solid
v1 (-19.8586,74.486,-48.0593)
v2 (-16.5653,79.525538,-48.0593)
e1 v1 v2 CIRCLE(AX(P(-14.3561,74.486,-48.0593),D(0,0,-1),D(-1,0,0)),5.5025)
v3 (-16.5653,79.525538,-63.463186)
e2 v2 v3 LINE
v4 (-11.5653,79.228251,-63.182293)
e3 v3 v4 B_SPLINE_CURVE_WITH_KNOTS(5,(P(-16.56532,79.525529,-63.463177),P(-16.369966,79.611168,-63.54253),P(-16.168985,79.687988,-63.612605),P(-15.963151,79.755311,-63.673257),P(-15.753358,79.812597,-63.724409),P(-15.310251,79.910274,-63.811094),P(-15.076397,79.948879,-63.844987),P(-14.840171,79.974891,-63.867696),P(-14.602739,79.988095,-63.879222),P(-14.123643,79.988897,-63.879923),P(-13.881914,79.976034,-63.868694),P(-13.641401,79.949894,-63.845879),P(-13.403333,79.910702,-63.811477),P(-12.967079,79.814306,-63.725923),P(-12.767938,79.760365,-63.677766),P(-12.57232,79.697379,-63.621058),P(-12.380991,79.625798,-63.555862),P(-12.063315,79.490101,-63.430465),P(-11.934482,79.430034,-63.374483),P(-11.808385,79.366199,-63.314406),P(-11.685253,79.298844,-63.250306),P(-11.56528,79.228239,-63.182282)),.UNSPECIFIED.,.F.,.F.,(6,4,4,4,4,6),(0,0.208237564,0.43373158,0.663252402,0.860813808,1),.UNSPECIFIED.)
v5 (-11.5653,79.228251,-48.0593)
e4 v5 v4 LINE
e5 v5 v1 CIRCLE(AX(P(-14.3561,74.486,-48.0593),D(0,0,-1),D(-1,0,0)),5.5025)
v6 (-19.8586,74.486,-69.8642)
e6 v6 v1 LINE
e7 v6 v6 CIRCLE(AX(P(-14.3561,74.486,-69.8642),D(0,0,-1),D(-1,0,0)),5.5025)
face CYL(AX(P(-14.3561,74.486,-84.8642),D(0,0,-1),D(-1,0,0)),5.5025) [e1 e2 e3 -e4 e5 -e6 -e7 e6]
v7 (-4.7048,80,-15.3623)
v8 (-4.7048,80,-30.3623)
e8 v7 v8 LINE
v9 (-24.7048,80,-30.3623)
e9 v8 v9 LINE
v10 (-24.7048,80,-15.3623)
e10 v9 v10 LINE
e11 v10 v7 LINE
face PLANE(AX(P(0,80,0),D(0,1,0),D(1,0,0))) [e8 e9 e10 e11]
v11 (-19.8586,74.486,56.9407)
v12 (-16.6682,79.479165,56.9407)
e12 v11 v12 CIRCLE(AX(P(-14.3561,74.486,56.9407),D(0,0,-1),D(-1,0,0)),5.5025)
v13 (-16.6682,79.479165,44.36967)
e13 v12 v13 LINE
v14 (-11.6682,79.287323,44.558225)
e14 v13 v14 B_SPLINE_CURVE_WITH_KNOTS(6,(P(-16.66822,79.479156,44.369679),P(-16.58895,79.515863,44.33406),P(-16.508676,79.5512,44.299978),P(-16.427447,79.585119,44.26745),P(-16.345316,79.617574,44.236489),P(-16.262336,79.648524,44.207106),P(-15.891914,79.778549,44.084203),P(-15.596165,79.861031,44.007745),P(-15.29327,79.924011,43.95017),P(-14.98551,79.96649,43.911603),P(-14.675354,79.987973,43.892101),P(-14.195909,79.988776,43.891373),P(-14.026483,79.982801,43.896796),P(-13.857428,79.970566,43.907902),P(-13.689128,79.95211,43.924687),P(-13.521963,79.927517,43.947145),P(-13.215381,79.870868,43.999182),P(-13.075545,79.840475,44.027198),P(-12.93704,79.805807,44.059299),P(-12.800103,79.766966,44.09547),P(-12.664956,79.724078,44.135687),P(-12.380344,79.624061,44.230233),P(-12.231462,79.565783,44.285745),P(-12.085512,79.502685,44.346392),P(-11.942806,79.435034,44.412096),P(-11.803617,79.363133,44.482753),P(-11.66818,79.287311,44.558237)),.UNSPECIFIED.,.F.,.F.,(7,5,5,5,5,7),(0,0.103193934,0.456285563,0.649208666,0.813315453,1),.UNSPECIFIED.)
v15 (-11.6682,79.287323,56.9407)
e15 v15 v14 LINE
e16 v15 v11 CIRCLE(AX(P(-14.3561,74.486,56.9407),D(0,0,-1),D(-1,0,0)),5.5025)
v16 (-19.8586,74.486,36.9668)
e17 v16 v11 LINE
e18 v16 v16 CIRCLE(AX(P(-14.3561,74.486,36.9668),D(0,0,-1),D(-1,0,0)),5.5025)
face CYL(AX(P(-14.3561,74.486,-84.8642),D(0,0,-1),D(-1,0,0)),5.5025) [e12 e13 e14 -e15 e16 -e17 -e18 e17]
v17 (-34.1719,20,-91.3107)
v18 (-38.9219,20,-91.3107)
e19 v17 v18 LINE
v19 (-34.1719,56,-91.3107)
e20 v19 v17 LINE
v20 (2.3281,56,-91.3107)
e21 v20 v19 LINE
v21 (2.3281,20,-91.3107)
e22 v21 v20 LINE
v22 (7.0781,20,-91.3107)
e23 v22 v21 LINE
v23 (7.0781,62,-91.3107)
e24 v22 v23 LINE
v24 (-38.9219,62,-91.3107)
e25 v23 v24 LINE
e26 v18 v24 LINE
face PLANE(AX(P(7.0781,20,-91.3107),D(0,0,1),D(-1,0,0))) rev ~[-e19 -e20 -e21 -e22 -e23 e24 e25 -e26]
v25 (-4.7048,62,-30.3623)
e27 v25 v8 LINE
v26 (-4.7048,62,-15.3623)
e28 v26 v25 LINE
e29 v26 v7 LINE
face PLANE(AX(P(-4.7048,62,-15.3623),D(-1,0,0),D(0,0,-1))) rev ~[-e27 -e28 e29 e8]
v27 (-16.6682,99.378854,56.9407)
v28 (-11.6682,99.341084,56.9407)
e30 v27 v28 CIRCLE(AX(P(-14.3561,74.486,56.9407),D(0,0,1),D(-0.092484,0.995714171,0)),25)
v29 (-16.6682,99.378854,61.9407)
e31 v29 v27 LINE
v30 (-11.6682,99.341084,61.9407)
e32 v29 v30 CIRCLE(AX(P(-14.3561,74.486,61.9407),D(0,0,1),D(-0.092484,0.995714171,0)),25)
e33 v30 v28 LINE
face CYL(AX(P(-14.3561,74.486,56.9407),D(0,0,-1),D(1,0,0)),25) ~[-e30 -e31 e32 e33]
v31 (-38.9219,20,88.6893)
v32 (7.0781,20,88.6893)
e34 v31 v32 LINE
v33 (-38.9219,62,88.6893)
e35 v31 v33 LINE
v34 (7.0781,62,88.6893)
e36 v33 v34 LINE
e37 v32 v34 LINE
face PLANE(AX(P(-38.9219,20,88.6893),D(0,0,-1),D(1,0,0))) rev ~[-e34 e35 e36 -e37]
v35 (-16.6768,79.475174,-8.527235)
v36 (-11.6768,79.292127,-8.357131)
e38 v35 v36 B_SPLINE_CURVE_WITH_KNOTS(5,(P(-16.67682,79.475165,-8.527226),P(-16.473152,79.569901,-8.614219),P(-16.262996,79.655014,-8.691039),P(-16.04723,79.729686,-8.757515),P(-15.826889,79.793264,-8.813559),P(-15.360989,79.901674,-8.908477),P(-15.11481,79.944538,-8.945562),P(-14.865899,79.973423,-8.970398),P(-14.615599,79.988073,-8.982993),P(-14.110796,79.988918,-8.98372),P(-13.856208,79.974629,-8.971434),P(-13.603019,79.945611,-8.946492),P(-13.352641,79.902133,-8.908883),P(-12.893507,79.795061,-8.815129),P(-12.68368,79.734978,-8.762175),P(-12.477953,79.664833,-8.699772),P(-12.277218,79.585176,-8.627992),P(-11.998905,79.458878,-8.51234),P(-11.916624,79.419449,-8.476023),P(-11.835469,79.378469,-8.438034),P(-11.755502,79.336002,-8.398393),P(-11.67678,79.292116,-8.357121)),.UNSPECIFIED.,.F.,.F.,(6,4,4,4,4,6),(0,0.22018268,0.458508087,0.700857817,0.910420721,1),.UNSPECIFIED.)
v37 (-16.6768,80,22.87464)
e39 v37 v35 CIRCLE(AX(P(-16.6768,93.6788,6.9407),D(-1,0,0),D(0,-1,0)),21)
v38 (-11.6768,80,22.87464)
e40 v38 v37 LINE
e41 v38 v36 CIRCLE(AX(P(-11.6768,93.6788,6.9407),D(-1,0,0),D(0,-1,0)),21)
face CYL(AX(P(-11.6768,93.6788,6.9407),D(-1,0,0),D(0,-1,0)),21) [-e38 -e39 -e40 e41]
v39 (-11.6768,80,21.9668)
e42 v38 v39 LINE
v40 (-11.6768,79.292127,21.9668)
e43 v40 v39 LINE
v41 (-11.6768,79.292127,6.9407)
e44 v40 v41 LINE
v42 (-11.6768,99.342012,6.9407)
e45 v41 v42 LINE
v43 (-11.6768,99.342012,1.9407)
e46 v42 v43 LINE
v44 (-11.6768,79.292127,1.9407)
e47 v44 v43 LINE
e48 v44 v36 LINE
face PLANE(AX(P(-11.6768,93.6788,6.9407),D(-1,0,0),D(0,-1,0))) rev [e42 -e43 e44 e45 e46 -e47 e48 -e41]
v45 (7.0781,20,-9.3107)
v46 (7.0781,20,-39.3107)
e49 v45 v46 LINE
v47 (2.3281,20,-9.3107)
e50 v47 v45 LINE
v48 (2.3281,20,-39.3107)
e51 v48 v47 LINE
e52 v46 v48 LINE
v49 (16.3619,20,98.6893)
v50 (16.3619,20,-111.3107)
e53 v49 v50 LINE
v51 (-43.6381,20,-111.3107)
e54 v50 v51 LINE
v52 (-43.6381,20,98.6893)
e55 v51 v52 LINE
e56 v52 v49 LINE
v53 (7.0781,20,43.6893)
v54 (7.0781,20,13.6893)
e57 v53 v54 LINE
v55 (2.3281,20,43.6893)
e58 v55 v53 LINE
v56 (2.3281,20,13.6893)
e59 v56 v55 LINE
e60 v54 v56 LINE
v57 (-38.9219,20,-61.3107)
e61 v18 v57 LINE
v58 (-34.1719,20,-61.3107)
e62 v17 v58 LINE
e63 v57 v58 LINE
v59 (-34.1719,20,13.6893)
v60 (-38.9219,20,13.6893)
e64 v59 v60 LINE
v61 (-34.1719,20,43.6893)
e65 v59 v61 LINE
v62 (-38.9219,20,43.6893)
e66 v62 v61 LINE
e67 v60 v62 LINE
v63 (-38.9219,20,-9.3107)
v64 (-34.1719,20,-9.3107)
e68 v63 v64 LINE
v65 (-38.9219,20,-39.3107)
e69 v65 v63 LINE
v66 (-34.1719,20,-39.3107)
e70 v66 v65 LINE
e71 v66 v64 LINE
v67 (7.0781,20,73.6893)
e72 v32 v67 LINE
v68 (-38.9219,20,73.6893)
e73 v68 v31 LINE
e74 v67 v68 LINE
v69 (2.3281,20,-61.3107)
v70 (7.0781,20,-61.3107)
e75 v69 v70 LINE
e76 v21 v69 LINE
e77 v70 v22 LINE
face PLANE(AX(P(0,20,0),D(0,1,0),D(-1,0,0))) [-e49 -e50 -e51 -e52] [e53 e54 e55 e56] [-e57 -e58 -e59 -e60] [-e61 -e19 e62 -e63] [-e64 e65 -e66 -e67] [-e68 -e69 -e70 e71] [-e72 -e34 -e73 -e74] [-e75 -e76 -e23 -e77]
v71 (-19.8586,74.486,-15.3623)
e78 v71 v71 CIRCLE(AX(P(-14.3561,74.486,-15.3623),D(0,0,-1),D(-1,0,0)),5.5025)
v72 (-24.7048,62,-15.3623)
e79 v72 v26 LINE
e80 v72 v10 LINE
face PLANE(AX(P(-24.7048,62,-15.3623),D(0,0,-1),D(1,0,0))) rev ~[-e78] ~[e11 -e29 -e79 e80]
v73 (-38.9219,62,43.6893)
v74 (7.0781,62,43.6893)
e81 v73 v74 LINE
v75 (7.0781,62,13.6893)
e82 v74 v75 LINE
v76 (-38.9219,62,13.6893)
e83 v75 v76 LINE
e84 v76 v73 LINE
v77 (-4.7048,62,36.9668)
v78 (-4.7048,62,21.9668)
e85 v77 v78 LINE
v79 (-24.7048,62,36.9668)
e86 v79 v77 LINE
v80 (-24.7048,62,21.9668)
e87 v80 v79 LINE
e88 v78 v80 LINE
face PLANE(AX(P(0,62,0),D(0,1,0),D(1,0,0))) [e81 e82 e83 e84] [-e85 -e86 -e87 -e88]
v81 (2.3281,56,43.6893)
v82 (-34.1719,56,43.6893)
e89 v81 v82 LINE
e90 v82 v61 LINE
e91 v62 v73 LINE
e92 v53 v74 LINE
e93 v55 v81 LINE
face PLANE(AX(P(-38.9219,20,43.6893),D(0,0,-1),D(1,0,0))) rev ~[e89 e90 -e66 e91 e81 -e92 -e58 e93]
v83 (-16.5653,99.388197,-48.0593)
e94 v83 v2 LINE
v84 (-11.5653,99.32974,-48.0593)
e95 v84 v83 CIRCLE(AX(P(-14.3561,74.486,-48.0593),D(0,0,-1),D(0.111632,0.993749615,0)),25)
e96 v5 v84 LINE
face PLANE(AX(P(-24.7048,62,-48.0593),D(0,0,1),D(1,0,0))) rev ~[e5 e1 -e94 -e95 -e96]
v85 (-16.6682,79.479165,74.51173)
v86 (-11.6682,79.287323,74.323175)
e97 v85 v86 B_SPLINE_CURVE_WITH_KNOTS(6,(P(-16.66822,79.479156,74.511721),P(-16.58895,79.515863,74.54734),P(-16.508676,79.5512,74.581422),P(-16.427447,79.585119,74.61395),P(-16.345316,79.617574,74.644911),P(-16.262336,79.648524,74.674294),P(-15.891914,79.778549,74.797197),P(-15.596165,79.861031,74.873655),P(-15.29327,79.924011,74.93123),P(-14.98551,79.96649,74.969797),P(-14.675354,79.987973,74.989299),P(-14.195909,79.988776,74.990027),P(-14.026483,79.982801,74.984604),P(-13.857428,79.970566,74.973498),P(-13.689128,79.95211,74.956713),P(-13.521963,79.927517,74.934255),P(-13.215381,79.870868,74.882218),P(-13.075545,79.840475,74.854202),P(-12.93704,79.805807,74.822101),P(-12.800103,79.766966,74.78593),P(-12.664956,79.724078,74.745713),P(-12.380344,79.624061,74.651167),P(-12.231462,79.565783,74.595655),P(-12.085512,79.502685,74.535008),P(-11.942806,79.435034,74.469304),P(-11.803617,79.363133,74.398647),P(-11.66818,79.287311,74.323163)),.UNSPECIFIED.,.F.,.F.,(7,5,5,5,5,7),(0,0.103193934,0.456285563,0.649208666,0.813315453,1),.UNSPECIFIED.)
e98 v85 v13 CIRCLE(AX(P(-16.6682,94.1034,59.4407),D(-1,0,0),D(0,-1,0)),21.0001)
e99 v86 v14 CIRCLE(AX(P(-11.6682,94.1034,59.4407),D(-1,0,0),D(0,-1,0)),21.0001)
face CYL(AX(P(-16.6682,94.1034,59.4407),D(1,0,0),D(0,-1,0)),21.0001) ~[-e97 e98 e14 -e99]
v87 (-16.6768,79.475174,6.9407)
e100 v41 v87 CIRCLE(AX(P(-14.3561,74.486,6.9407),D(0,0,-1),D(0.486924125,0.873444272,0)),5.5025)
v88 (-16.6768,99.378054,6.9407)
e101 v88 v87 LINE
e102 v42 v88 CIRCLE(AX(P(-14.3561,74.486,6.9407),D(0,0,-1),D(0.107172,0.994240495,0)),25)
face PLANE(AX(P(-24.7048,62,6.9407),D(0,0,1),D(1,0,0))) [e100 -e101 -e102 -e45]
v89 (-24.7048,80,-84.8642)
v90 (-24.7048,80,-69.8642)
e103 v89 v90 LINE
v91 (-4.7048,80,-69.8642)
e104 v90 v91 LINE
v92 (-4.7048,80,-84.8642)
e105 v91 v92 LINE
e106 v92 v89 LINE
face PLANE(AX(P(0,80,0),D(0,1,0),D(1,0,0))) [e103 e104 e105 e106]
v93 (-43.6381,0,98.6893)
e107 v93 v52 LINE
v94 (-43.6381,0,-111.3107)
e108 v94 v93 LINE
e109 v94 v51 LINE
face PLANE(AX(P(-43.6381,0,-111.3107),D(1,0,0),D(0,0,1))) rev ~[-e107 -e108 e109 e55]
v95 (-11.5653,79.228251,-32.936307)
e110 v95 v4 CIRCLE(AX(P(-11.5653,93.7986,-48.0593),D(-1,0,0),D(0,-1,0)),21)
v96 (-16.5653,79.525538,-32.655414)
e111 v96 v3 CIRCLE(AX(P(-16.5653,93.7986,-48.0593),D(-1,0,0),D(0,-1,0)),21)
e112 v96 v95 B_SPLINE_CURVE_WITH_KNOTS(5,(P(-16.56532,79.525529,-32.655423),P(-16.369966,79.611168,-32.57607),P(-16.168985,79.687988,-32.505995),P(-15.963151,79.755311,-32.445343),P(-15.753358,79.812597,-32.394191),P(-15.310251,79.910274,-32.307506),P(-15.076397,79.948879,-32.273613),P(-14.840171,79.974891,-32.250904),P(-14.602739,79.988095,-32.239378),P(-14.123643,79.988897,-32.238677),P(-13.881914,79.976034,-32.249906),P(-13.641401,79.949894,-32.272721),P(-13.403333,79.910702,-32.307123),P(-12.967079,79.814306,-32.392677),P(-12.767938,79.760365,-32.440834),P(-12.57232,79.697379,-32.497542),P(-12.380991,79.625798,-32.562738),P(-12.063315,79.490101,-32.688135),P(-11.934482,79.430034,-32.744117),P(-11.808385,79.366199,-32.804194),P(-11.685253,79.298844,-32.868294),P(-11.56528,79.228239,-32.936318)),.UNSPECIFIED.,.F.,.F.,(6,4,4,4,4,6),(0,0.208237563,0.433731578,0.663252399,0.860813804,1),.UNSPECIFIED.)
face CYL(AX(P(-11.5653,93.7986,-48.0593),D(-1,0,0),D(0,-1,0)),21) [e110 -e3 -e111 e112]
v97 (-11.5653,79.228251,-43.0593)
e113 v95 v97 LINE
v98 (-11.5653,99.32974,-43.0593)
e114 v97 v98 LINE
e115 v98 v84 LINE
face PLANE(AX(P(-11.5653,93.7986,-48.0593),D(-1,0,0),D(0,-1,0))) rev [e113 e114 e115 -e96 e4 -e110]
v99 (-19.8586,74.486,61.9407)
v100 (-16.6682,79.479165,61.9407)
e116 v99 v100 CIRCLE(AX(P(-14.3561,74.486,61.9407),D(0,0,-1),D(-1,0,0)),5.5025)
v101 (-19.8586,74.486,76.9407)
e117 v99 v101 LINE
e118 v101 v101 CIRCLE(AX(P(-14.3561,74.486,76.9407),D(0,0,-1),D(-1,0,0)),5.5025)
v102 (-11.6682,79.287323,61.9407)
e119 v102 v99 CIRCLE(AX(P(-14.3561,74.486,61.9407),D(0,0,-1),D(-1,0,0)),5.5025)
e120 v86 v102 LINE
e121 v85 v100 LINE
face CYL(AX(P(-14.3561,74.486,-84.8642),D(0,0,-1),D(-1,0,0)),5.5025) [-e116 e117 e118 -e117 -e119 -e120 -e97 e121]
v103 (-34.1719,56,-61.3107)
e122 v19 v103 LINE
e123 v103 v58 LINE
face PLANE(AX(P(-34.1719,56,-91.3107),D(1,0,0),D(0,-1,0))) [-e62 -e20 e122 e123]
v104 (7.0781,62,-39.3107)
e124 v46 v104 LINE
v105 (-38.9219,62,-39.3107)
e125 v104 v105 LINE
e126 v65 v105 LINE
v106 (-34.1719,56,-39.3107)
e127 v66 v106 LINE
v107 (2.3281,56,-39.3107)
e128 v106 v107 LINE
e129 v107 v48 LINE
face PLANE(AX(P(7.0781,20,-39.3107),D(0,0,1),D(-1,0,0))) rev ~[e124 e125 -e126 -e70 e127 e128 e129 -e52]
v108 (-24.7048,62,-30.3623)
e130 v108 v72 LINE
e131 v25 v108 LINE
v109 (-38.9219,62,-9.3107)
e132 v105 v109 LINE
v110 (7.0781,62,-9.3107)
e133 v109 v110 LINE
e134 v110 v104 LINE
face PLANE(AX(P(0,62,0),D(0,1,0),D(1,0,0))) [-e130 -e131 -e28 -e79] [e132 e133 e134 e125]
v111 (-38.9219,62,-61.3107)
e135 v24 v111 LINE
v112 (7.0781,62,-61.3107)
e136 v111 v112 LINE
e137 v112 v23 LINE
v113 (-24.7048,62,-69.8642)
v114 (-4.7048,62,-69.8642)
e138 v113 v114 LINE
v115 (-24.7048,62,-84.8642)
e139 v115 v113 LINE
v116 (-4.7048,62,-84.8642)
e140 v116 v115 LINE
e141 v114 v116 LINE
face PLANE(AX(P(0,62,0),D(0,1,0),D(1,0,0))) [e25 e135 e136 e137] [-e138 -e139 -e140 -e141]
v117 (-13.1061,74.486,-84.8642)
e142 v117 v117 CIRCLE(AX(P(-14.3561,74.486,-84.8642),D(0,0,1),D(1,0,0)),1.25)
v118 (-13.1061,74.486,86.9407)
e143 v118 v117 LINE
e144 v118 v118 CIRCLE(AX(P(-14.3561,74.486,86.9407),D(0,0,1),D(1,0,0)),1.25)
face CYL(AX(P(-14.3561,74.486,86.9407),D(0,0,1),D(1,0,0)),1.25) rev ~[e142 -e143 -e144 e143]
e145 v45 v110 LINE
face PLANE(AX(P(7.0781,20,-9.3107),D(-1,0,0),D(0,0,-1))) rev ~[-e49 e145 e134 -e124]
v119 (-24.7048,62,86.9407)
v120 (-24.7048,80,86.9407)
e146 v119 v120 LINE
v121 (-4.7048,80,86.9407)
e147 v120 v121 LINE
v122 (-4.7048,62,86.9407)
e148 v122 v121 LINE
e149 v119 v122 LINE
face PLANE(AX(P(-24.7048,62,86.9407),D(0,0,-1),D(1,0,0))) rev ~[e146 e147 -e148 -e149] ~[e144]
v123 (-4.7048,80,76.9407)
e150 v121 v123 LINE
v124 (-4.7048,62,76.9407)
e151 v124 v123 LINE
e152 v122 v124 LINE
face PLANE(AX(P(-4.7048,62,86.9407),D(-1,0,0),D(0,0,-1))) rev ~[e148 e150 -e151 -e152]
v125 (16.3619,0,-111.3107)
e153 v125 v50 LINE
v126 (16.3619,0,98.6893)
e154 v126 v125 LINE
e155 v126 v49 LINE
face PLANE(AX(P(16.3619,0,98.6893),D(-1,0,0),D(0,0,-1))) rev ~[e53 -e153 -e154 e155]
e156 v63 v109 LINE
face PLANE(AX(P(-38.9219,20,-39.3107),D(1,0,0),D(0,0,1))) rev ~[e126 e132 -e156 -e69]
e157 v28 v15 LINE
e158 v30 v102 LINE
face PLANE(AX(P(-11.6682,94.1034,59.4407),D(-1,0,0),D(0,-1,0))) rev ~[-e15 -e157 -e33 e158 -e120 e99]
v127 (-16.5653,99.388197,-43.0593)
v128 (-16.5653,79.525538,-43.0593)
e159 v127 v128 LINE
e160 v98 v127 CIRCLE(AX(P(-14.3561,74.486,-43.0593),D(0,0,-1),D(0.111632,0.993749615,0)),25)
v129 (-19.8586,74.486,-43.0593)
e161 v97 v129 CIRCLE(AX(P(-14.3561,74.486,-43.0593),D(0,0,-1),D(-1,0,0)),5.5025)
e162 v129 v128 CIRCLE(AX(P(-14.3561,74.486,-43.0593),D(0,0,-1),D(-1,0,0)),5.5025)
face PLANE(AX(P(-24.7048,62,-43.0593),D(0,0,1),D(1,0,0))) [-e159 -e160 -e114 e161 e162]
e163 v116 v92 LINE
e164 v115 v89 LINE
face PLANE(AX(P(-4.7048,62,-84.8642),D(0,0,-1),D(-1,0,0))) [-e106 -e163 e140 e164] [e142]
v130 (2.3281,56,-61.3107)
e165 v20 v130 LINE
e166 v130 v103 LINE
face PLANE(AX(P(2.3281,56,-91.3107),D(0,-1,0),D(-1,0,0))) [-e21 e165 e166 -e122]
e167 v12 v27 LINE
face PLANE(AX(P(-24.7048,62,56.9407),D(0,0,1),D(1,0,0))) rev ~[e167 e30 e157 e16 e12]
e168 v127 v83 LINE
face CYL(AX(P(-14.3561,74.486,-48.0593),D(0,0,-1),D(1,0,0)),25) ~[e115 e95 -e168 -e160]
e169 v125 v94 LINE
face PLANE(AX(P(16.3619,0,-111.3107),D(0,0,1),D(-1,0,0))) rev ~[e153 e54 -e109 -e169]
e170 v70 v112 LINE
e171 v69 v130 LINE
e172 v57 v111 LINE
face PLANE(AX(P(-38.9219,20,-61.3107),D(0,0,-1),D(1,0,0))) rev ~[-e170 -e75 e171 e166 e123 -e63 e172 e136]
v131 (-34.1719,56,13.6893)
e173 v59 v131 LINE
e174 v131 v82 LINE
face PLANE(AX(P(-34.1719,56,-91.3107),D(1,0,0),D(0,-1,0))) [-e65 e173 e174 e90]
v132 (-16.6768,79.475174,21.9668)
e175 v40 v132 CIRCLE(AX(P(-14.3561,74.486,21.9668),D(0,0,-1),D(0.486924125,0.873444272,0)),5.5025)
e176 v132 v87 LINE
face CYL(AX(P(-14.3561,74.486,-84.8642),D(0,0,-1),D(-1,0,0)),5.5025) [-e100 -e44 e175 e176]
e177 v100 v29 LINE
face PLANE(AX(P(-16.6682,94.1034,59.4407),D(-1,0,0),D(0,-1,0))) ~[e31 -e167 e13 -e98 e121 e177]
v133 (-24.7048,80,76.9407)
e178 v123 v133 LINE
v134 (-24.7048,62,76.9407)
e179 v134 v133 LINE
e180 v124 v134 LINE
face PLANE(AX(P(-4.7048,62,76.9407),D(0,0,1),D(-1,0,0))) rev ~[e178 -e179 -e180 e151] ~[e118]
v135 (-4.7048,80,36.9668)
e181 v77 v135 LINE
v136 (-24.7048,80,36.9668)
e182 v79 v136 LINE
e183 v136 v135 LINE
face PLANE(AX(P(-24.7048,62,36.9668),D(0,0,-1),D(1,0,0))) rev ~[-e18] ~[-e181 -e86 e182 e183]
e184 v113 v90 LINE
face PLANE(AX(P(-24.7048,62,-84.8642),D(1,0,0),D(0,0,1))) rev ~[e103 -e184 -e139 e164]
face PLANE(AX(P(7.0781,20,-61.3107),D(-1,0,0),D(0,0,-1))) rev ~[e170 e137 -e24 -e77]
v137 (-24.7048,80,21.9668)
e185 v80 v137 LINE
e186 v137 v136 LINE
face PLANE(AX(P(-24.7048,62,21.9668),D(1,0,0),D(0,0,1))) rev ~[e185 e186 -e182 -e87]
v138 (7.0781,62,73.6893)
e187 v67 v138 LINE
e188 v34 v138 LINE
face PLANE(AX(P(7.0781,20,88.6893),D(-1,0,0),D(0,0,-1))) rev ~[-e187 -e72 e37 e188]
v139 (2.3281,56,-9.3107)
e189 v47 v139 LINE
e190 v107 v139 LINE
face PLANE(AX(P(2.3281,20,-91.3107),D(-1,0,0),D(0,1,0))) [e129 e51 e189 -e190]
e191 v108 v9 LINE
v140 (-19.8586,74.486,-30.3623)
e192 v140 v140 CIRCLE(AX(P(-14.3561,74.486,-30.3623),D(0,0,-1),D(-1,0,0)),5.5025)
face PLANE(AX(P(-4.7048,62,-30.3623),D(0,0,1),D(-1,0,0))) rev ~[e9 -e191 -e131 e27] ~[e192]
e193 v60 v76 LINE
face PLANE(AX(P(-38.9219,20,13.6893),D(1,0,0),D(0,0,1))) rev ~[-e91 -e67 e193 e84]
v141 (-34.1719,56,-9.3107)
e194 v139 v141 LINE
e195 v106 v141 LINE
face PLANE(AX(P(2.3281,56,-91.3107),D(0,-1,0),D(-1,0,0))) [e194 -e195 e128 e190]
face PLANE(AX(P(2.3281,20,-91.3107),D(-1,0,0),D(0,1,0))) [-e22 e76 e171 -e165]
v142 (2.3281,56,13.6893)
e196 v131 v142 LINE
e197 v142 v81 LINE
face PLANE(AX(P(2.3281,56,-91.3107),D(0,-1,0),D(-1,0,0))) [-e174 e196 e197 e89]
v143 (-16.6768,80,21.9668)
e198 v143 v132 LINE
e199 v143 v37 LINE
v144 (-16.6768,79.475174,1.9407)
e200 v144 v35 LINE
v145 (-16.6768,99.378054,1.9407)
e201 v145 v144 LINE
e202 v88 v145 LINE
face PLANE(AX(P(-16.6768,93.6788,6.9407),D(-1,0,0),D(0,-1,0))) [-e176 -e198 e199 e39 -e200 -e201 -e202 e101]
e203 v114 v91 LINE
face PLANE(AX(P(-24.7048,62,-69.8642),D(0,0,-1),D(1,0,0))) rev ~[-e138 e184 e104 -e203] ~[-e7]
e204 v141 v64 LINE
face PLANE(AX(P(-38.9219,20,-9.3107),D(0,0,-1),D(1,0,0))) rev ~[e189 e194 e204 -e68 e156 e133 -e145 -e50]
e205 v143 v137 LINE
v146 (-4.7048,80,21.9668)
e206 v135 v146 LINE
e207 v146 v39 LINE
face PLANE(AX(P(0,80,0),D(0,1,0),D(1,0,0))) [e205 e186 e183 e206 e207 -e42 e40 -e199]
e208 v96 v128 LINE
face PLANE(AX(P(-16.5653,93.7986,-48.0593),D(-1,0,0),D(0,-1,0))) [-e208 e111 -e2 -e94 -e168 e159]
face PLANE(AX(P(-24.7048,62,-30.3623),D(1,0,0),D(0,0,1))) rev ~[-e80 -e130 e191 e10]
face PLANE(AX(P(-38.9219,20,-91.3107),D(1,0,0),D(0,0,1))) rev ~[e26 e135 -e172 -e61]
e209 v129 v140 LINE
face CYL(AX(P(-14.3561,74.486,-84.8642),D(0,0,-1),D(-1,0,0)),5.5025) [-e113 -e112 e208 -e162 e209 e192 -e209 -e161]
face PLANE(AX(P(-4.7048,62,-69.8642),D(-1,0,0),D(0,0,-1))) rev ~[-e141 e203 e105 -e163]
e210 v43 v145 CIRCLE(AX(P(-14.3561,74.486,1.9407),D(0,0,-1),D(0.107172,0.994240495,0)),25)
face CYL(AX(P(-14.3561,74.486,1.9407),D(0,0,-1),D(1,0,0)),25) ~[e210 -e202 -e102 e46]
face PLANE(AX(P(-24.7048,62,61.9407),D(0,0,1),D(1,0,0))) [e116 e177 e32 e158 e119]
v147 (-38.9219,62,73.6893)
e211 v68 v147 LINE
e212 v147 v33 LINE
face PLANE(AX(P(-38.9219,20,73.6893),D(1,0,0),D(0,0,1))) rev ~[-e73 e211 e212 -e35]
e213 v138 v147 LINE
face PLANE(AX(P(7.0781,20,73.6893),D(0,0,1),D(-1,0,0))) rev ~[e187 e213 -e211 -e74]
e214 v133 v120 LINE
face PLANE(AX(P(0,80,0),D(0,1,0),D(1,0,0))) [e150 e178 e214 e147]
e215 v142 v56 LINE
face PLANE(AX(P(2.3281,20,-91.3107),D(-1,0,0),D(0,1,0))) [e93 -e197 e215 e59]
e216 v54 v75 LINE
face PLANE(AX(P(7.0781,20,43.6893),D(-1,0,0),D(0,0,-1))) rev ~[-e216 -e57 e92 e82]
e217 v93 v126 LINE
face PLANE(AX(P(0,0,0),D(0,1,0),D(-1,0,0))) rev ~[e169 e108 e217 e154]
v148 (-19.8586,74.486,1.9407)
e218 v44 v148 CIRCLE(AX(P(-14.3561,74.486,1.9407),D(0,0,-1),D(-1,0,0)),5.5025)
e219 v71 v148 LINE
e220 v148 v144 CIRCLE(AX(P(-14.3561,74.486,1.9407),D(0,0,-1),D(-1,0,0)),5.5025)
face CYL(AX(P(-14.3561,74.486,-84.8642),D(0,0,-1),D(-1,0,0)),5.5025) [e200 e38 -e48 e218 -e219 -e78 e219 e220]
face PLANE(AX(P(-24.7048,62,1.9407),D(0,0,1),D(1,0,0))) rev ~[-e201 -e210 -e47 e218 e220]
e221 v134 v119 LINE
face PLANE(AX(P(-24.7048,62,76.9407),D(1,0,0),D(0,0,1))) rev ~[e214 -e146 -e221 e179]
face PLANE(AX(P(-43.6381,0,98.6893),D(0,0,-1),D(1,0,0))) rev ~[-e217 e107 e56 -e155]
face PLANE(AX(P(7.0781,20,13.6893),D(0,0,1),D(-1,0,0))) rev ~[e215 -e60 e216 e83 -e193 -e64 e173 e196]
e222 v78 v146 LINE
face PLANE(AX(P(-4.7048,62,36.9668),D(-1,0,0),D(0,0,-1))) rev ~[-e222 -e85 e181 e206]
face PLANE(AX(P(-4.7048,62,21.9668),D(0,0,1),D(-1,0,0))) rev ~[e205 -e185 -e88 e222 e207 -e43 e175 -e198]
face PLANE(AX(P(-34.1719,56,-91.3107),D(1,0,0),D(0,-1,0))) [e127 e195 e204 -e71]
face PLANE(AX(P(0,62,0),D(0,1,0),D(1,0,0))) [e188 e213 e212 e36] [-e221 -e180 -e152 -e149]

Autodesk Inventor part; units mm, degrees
sketch "Boceto1" plane through (0, 0, 0) normal (0, 1, 0) x (-1, 0, 0)
  line L0 (43.6381, 98.6893) -> (-16.3619, 98.6893)
  line L1 (-16.3619, 98.6893) -> (-16.3619, -111.3107)
  line L2 (-16.3619, -111.3107) -> (43.6381, -111.3107)
  line L3 (43.6381, -111.3107) -> (43.6381, 98.6893)
  point P0 (0, 0)
  dimension "d0" = 210
  dimension "d1" = 60
extrude "Extrusión1" add sketch "Boceto1" along normal blind 20
sketch "Boceto2" plane through (0, 20, 0) normal (0, 1, 0) x (1, 0, 0)
  line L0 (-38.9219, -88.6893) -> (7.0781, -88.6893)
  line L1 (7.0781, -88.6893) -> (7.0781, -73.6893)
  line L2 (7.0781, -73.6893) -> (-38.9219, -73.6893)
  line L3 (-38.9219, -73.6893) -> (-38.9219, -88.6893)
  line L4 (-38.9219, -43.6893) -> (7.0781, -43.6893)
  line L5 (7.0781, -43.6893) -> (7.0781, -13.6893)
  line L6 (7.0781, -13.6893) -> (-38.9219, -13.6893)
  line L7 (-38.9219, -13.6893) -> (-38.9219, -43.6893)
  line L8 (-38.9219, 9.3107) -> (7.0781, 9.3107)
  line L9 (7.0781, 9.3107) -> (7.0781, 39.3107)
  line L10 (7.0781, 39.3107) -> (-38.9219, 39.3107)
  line L11 (-38.9219, 39.3107) -> (-38.9219, 9.3107)
  line L12 (-38.9219, 61.3107) -> (7.0781, 61.3107)
  line L13 (7.0781, 61.3107) -> (7.0781, 91.3107)
  line L14 (7.0781, 91.3107) -> (-38.9219, 91.3107)
  line L15 (-38.9219, 91.3107) -> (-38.9219, 61.3107)
  line L16 (-43.6381, -98.6893) -> (16.3619, -98.6893) projected
  line L17 (16.3619, 111.3107) -> (-43.6381, 111.3107) projected
  point P0 (0, 0)
  dimension "d6" = 15
  dimension "d7" = 30
  dimension "d8" = 46
  dimension "d9" = 46
  dimension "d10" = 30
  dimension "d11" = 46
  dimension "d12" = 30
  dimension "d13" = 46
  dimension "d14" = 10
  dimension "d15" = 20
  dimension "d16" = 30
  dimension "d17" = 23
  dimension "d18" = 22
extrude "Extrusión2" add sketch "Boceto2" along normal blind 42
sketch "Boceto3" plane through (0, 62, 0) normal (0, 1, 0) x (1, 0, 0)
  line L0 (-4.7048, -21.9668) -> (-24.7048, -21.9668)
  line L1 (-24.7048, -21.9668) -> (-24.7048, -36.9668)
  line L2 (-24.7048, -36.9668) -> (-4.7048, -36.9668)
  line L3 (-4.7048, -36.9668) -> (-4.7048, -21.9668)
  line L4 (-24.7048, 15.3623) -> (-4.7048, 15.3623)
  line L5 (-4.7048, 15.3623) -> (-4.7048, 30.3623)
  line L6 (-4.7048, 30.3623) -> (-24.7048, 30.3623)
  line L7 (-24.7048, 30.3623) -> (-24.7048, 15.3623)
  line L8 (-24.7048, 69.8642) -> (-4.7048, 69.8642)
  line L9 (-4.7048, 69.8642) -> (-4.7048, 84.8642)
  line L10 (-4.7048, 84.8642) -> (-24.7048, 84.8642)
  line L11 (-24.7048, 84.8642) -> (-24.7048, 69.8642)
  line L12 (-24.7048, -86.9407) -> (-4.7048, -86.9407)
  line L13 (-4.7048, -86.9407) -> (-4.7048, -76.9407)
  line L14 (-4.7048, -76.9407) -> (-24.7048, -76.9407)
  line L15 (-24.7048, -76.9407) -> (-24.7048, -86.9407)
  point P0 (0, 0)
  dimension "d19" = 20
  dimension "d20" = 15
  dimension "d21" = 20
  dimension "d22" = 15
  dimension "d23" = 15
  dimension "d24" = 20
  dimension "d25" = 20
  dimension "d26" = 10
  dimension "d31" = 0
extrude "Extrusión3" add sketch "Boceto3" along normal blind 18
sketch "Sketch16" plane through (7.0781, 20, -91.3107) normal (0, 0, -1) x (-1, 0, 0)
  line L0 (-9.2838, 0) -> (50.7162, 0) projected
  line L1 (4.75, 36) -> (41.25, 36)
  line L2 (41.25, 36) -> (41.25, 0)
  line L3 (41.25, 0) -> (4.75, 0)
  line L4 (4.75, 0) -> (4.75, 36)
  line L5 (0, 42) -> (46, 42) projected
  point P0 (7.0781, -20)
  point P1 (23, 42)
  point P2 (23, 36)
  point P3 (4.75, 0)
  dimension "d57" = 36.5
  dimension "d58" = 36
extrude "Extrusion8" cut sketch "Sketch16" against normal up to surface (135 mm away)
sketch "Boceto4" plane through (-4.7048, 62, -84.8642) normal (0, 0, -1) x (-1, 0, 0)
  circle A0 centre (9.6513, 12.486) radius 5.5025
  point P0 (-4.7048, -62)
extrude "Extrusión4" add sketch "Boceto4" against normal blind 170
ref_plane "Plano de trabajo1" through (-24.7048, 62, 56.9407) normal (0, 0, 1) x (1, 0, 0)
sketch "Boceto6" plane through (-24.7048, 62, 56.9407) normal (0, 0, 1) x (1, 0, 0)
  circle A0 centre (10.3487, 12.486) radius 5.5025 projected
  circle A1 centre (10.3487, 12.486) radius 25
  point P0 (24.7048, -62)
  point P1 (41.0667, -62)
  dimension "d33" = 74.486
  dimension "d34" = 25
extrude "Extrusión5" add sketch "Boceto6" along normal blind 5 contours A0 | A1
ref_plane "Plano de trabajo3" through (-24.7048, 62, 1.9407) normal (0, 0, 1) x (1, 0, 0)
ref_plane "Plano de trabajo4" through (-24.7048, 62, -48.0593) normal (0, 0, 1) x (1, 0, 0)
sketch "Boceto7" plane through (-24.7048, 62, 1.9407) normal (0, 0, 1) x (1, 0, 0)
  circle A0 centre (10.3487, 12.486) radius 25 projected
  circle A1 centre (10.3487, 12.486) radius 20
  point P0 (24.7048, -62)
extrude "Extrusión6" add sketch "Boceto7" along normal blind 5 contours A0 | A1
sketch "Boceto8" plane through (-24.7048, 62, -48.0593) normal (0, 0, 1) x (1, 0, 0)
  circle A0 centre (10.3487, 12.486) radius 25 projected
  circle A1 centre (10.3487, 12.486) radius 20
  point P0 (24.7048, -62)
  dimension "d48" = 50
extrude "Extrusión7" add sketch "Boceto8" along normal blind 5 contours A0 | A1
ref_plane "Plano de trabajo5" through (-14.3562, 74.486, 59.4407) normal (0, 0, -1) x (-1, 0, 0)
sketch "Boceto10" plane through (-14.3562, 74.486, 59.4407) normal (0, 0, -1) x (-1, 0, 0)
  line L0 (-2.688, 19.6173) -> (2.312, 19.6173)
  line L1 (2.312, 19.6173) -> (2.312, -1.3827)
  line L2 (2.312, -1.3827) -> (-2.688, -1.3827)
  line L3 (-2.688, -1.3827) -> (-2.688, 19.6173)
  line L4 (-30.7181, -74.486) -> (29.2819, -74.486) projected
  point P0 (-14.3562, -74.486)
  dimension "d43" = 21
  dimension "d46" = 5
revolve "Revolución1" add sketch "Boceto10" angle 360 about axis through (-11.6681, 94.1034, 59.4407) along (-1, 0, 0)
sketch "Boceto11" plane through (-14.3562, 74.486, 59.4407) normal (0, 0, -1) x (-1, 0, 0)
  point P0 (-14.3562, -74.486)
ref_plane "Plano de trabajo6" through (-22.9219, 20, 88.6893) normal (1, 0, 0) x (0, 0, -1)
sketch "Boceto14" plane through (-13.6381, 102.3503, 6.9407) normal (0, 0, 1) x (1, 0, 0)
  line L0 (-3.0387, -8.6715) -> (1.9613, -8.6715)
  line L1 (1.9613, -8.6715) -> (1.9613, -29.6715)
  line L2 (1.9613, -29.6715) -> (-3.0387, -29.6715)
  line L3 (-3.0387, -29.6715) -> (-3.0387, -8.6715)
  line L4 (-30.7181, -74.486) -> (29.2819, -74.486)
  point P0 (-14.3562, -74.486)
  dimension "d51" = 21
  dimension "d52" = 5
revolve "Revolución2" add sketch "Boceto14" angle 360 about axis through (-16.6768, 93.6788, 6.9407) along (-1, 0, 0)
sketch "Boceto15" plane through (-23.9868, 103.3042, -48.0593) normal (0, 0, 1) x (1, 0, 0)
  line L0 (7.4215, -9.5056) -> (12.4215, -9.5056)
  line L1 (12.4215, -9.5056) -> (12.4215, -30.5056)
  line L2 (12.4215, -30.5056) -> (7.4215, -30.5056)
  line L3 (7.4215, -30.5056) -> (7.4215, -9.5056)
  line L4 (-30.7181, -74.486) -> (29.2819, -74.486)
  point P0 (-14.3562, -74.486)
  dimension "d54" = 21
  dimension "d55" = 5
revolve "Revolución3" add sketch "Boceto15" angle 360 about axis through (-16.5652, 93.7986, -48.0593) along (-1, 0, 0)
sketch "Sketch17" plane through (-24.7048, 62, 86.9407) normal (0, 0, 1) x (1, 0, 0)
  circle A0 centre (10.3487, 12.486) radius 5.5025 projected
  circle A1 centre (10.3487, 12.486) radius 1.25
  point P0 (24.7048, -62)
  dimension "d61" = 2.5
extrude "Extrusion9" cut sketch "Sketch17" against normal up to next contours A1
